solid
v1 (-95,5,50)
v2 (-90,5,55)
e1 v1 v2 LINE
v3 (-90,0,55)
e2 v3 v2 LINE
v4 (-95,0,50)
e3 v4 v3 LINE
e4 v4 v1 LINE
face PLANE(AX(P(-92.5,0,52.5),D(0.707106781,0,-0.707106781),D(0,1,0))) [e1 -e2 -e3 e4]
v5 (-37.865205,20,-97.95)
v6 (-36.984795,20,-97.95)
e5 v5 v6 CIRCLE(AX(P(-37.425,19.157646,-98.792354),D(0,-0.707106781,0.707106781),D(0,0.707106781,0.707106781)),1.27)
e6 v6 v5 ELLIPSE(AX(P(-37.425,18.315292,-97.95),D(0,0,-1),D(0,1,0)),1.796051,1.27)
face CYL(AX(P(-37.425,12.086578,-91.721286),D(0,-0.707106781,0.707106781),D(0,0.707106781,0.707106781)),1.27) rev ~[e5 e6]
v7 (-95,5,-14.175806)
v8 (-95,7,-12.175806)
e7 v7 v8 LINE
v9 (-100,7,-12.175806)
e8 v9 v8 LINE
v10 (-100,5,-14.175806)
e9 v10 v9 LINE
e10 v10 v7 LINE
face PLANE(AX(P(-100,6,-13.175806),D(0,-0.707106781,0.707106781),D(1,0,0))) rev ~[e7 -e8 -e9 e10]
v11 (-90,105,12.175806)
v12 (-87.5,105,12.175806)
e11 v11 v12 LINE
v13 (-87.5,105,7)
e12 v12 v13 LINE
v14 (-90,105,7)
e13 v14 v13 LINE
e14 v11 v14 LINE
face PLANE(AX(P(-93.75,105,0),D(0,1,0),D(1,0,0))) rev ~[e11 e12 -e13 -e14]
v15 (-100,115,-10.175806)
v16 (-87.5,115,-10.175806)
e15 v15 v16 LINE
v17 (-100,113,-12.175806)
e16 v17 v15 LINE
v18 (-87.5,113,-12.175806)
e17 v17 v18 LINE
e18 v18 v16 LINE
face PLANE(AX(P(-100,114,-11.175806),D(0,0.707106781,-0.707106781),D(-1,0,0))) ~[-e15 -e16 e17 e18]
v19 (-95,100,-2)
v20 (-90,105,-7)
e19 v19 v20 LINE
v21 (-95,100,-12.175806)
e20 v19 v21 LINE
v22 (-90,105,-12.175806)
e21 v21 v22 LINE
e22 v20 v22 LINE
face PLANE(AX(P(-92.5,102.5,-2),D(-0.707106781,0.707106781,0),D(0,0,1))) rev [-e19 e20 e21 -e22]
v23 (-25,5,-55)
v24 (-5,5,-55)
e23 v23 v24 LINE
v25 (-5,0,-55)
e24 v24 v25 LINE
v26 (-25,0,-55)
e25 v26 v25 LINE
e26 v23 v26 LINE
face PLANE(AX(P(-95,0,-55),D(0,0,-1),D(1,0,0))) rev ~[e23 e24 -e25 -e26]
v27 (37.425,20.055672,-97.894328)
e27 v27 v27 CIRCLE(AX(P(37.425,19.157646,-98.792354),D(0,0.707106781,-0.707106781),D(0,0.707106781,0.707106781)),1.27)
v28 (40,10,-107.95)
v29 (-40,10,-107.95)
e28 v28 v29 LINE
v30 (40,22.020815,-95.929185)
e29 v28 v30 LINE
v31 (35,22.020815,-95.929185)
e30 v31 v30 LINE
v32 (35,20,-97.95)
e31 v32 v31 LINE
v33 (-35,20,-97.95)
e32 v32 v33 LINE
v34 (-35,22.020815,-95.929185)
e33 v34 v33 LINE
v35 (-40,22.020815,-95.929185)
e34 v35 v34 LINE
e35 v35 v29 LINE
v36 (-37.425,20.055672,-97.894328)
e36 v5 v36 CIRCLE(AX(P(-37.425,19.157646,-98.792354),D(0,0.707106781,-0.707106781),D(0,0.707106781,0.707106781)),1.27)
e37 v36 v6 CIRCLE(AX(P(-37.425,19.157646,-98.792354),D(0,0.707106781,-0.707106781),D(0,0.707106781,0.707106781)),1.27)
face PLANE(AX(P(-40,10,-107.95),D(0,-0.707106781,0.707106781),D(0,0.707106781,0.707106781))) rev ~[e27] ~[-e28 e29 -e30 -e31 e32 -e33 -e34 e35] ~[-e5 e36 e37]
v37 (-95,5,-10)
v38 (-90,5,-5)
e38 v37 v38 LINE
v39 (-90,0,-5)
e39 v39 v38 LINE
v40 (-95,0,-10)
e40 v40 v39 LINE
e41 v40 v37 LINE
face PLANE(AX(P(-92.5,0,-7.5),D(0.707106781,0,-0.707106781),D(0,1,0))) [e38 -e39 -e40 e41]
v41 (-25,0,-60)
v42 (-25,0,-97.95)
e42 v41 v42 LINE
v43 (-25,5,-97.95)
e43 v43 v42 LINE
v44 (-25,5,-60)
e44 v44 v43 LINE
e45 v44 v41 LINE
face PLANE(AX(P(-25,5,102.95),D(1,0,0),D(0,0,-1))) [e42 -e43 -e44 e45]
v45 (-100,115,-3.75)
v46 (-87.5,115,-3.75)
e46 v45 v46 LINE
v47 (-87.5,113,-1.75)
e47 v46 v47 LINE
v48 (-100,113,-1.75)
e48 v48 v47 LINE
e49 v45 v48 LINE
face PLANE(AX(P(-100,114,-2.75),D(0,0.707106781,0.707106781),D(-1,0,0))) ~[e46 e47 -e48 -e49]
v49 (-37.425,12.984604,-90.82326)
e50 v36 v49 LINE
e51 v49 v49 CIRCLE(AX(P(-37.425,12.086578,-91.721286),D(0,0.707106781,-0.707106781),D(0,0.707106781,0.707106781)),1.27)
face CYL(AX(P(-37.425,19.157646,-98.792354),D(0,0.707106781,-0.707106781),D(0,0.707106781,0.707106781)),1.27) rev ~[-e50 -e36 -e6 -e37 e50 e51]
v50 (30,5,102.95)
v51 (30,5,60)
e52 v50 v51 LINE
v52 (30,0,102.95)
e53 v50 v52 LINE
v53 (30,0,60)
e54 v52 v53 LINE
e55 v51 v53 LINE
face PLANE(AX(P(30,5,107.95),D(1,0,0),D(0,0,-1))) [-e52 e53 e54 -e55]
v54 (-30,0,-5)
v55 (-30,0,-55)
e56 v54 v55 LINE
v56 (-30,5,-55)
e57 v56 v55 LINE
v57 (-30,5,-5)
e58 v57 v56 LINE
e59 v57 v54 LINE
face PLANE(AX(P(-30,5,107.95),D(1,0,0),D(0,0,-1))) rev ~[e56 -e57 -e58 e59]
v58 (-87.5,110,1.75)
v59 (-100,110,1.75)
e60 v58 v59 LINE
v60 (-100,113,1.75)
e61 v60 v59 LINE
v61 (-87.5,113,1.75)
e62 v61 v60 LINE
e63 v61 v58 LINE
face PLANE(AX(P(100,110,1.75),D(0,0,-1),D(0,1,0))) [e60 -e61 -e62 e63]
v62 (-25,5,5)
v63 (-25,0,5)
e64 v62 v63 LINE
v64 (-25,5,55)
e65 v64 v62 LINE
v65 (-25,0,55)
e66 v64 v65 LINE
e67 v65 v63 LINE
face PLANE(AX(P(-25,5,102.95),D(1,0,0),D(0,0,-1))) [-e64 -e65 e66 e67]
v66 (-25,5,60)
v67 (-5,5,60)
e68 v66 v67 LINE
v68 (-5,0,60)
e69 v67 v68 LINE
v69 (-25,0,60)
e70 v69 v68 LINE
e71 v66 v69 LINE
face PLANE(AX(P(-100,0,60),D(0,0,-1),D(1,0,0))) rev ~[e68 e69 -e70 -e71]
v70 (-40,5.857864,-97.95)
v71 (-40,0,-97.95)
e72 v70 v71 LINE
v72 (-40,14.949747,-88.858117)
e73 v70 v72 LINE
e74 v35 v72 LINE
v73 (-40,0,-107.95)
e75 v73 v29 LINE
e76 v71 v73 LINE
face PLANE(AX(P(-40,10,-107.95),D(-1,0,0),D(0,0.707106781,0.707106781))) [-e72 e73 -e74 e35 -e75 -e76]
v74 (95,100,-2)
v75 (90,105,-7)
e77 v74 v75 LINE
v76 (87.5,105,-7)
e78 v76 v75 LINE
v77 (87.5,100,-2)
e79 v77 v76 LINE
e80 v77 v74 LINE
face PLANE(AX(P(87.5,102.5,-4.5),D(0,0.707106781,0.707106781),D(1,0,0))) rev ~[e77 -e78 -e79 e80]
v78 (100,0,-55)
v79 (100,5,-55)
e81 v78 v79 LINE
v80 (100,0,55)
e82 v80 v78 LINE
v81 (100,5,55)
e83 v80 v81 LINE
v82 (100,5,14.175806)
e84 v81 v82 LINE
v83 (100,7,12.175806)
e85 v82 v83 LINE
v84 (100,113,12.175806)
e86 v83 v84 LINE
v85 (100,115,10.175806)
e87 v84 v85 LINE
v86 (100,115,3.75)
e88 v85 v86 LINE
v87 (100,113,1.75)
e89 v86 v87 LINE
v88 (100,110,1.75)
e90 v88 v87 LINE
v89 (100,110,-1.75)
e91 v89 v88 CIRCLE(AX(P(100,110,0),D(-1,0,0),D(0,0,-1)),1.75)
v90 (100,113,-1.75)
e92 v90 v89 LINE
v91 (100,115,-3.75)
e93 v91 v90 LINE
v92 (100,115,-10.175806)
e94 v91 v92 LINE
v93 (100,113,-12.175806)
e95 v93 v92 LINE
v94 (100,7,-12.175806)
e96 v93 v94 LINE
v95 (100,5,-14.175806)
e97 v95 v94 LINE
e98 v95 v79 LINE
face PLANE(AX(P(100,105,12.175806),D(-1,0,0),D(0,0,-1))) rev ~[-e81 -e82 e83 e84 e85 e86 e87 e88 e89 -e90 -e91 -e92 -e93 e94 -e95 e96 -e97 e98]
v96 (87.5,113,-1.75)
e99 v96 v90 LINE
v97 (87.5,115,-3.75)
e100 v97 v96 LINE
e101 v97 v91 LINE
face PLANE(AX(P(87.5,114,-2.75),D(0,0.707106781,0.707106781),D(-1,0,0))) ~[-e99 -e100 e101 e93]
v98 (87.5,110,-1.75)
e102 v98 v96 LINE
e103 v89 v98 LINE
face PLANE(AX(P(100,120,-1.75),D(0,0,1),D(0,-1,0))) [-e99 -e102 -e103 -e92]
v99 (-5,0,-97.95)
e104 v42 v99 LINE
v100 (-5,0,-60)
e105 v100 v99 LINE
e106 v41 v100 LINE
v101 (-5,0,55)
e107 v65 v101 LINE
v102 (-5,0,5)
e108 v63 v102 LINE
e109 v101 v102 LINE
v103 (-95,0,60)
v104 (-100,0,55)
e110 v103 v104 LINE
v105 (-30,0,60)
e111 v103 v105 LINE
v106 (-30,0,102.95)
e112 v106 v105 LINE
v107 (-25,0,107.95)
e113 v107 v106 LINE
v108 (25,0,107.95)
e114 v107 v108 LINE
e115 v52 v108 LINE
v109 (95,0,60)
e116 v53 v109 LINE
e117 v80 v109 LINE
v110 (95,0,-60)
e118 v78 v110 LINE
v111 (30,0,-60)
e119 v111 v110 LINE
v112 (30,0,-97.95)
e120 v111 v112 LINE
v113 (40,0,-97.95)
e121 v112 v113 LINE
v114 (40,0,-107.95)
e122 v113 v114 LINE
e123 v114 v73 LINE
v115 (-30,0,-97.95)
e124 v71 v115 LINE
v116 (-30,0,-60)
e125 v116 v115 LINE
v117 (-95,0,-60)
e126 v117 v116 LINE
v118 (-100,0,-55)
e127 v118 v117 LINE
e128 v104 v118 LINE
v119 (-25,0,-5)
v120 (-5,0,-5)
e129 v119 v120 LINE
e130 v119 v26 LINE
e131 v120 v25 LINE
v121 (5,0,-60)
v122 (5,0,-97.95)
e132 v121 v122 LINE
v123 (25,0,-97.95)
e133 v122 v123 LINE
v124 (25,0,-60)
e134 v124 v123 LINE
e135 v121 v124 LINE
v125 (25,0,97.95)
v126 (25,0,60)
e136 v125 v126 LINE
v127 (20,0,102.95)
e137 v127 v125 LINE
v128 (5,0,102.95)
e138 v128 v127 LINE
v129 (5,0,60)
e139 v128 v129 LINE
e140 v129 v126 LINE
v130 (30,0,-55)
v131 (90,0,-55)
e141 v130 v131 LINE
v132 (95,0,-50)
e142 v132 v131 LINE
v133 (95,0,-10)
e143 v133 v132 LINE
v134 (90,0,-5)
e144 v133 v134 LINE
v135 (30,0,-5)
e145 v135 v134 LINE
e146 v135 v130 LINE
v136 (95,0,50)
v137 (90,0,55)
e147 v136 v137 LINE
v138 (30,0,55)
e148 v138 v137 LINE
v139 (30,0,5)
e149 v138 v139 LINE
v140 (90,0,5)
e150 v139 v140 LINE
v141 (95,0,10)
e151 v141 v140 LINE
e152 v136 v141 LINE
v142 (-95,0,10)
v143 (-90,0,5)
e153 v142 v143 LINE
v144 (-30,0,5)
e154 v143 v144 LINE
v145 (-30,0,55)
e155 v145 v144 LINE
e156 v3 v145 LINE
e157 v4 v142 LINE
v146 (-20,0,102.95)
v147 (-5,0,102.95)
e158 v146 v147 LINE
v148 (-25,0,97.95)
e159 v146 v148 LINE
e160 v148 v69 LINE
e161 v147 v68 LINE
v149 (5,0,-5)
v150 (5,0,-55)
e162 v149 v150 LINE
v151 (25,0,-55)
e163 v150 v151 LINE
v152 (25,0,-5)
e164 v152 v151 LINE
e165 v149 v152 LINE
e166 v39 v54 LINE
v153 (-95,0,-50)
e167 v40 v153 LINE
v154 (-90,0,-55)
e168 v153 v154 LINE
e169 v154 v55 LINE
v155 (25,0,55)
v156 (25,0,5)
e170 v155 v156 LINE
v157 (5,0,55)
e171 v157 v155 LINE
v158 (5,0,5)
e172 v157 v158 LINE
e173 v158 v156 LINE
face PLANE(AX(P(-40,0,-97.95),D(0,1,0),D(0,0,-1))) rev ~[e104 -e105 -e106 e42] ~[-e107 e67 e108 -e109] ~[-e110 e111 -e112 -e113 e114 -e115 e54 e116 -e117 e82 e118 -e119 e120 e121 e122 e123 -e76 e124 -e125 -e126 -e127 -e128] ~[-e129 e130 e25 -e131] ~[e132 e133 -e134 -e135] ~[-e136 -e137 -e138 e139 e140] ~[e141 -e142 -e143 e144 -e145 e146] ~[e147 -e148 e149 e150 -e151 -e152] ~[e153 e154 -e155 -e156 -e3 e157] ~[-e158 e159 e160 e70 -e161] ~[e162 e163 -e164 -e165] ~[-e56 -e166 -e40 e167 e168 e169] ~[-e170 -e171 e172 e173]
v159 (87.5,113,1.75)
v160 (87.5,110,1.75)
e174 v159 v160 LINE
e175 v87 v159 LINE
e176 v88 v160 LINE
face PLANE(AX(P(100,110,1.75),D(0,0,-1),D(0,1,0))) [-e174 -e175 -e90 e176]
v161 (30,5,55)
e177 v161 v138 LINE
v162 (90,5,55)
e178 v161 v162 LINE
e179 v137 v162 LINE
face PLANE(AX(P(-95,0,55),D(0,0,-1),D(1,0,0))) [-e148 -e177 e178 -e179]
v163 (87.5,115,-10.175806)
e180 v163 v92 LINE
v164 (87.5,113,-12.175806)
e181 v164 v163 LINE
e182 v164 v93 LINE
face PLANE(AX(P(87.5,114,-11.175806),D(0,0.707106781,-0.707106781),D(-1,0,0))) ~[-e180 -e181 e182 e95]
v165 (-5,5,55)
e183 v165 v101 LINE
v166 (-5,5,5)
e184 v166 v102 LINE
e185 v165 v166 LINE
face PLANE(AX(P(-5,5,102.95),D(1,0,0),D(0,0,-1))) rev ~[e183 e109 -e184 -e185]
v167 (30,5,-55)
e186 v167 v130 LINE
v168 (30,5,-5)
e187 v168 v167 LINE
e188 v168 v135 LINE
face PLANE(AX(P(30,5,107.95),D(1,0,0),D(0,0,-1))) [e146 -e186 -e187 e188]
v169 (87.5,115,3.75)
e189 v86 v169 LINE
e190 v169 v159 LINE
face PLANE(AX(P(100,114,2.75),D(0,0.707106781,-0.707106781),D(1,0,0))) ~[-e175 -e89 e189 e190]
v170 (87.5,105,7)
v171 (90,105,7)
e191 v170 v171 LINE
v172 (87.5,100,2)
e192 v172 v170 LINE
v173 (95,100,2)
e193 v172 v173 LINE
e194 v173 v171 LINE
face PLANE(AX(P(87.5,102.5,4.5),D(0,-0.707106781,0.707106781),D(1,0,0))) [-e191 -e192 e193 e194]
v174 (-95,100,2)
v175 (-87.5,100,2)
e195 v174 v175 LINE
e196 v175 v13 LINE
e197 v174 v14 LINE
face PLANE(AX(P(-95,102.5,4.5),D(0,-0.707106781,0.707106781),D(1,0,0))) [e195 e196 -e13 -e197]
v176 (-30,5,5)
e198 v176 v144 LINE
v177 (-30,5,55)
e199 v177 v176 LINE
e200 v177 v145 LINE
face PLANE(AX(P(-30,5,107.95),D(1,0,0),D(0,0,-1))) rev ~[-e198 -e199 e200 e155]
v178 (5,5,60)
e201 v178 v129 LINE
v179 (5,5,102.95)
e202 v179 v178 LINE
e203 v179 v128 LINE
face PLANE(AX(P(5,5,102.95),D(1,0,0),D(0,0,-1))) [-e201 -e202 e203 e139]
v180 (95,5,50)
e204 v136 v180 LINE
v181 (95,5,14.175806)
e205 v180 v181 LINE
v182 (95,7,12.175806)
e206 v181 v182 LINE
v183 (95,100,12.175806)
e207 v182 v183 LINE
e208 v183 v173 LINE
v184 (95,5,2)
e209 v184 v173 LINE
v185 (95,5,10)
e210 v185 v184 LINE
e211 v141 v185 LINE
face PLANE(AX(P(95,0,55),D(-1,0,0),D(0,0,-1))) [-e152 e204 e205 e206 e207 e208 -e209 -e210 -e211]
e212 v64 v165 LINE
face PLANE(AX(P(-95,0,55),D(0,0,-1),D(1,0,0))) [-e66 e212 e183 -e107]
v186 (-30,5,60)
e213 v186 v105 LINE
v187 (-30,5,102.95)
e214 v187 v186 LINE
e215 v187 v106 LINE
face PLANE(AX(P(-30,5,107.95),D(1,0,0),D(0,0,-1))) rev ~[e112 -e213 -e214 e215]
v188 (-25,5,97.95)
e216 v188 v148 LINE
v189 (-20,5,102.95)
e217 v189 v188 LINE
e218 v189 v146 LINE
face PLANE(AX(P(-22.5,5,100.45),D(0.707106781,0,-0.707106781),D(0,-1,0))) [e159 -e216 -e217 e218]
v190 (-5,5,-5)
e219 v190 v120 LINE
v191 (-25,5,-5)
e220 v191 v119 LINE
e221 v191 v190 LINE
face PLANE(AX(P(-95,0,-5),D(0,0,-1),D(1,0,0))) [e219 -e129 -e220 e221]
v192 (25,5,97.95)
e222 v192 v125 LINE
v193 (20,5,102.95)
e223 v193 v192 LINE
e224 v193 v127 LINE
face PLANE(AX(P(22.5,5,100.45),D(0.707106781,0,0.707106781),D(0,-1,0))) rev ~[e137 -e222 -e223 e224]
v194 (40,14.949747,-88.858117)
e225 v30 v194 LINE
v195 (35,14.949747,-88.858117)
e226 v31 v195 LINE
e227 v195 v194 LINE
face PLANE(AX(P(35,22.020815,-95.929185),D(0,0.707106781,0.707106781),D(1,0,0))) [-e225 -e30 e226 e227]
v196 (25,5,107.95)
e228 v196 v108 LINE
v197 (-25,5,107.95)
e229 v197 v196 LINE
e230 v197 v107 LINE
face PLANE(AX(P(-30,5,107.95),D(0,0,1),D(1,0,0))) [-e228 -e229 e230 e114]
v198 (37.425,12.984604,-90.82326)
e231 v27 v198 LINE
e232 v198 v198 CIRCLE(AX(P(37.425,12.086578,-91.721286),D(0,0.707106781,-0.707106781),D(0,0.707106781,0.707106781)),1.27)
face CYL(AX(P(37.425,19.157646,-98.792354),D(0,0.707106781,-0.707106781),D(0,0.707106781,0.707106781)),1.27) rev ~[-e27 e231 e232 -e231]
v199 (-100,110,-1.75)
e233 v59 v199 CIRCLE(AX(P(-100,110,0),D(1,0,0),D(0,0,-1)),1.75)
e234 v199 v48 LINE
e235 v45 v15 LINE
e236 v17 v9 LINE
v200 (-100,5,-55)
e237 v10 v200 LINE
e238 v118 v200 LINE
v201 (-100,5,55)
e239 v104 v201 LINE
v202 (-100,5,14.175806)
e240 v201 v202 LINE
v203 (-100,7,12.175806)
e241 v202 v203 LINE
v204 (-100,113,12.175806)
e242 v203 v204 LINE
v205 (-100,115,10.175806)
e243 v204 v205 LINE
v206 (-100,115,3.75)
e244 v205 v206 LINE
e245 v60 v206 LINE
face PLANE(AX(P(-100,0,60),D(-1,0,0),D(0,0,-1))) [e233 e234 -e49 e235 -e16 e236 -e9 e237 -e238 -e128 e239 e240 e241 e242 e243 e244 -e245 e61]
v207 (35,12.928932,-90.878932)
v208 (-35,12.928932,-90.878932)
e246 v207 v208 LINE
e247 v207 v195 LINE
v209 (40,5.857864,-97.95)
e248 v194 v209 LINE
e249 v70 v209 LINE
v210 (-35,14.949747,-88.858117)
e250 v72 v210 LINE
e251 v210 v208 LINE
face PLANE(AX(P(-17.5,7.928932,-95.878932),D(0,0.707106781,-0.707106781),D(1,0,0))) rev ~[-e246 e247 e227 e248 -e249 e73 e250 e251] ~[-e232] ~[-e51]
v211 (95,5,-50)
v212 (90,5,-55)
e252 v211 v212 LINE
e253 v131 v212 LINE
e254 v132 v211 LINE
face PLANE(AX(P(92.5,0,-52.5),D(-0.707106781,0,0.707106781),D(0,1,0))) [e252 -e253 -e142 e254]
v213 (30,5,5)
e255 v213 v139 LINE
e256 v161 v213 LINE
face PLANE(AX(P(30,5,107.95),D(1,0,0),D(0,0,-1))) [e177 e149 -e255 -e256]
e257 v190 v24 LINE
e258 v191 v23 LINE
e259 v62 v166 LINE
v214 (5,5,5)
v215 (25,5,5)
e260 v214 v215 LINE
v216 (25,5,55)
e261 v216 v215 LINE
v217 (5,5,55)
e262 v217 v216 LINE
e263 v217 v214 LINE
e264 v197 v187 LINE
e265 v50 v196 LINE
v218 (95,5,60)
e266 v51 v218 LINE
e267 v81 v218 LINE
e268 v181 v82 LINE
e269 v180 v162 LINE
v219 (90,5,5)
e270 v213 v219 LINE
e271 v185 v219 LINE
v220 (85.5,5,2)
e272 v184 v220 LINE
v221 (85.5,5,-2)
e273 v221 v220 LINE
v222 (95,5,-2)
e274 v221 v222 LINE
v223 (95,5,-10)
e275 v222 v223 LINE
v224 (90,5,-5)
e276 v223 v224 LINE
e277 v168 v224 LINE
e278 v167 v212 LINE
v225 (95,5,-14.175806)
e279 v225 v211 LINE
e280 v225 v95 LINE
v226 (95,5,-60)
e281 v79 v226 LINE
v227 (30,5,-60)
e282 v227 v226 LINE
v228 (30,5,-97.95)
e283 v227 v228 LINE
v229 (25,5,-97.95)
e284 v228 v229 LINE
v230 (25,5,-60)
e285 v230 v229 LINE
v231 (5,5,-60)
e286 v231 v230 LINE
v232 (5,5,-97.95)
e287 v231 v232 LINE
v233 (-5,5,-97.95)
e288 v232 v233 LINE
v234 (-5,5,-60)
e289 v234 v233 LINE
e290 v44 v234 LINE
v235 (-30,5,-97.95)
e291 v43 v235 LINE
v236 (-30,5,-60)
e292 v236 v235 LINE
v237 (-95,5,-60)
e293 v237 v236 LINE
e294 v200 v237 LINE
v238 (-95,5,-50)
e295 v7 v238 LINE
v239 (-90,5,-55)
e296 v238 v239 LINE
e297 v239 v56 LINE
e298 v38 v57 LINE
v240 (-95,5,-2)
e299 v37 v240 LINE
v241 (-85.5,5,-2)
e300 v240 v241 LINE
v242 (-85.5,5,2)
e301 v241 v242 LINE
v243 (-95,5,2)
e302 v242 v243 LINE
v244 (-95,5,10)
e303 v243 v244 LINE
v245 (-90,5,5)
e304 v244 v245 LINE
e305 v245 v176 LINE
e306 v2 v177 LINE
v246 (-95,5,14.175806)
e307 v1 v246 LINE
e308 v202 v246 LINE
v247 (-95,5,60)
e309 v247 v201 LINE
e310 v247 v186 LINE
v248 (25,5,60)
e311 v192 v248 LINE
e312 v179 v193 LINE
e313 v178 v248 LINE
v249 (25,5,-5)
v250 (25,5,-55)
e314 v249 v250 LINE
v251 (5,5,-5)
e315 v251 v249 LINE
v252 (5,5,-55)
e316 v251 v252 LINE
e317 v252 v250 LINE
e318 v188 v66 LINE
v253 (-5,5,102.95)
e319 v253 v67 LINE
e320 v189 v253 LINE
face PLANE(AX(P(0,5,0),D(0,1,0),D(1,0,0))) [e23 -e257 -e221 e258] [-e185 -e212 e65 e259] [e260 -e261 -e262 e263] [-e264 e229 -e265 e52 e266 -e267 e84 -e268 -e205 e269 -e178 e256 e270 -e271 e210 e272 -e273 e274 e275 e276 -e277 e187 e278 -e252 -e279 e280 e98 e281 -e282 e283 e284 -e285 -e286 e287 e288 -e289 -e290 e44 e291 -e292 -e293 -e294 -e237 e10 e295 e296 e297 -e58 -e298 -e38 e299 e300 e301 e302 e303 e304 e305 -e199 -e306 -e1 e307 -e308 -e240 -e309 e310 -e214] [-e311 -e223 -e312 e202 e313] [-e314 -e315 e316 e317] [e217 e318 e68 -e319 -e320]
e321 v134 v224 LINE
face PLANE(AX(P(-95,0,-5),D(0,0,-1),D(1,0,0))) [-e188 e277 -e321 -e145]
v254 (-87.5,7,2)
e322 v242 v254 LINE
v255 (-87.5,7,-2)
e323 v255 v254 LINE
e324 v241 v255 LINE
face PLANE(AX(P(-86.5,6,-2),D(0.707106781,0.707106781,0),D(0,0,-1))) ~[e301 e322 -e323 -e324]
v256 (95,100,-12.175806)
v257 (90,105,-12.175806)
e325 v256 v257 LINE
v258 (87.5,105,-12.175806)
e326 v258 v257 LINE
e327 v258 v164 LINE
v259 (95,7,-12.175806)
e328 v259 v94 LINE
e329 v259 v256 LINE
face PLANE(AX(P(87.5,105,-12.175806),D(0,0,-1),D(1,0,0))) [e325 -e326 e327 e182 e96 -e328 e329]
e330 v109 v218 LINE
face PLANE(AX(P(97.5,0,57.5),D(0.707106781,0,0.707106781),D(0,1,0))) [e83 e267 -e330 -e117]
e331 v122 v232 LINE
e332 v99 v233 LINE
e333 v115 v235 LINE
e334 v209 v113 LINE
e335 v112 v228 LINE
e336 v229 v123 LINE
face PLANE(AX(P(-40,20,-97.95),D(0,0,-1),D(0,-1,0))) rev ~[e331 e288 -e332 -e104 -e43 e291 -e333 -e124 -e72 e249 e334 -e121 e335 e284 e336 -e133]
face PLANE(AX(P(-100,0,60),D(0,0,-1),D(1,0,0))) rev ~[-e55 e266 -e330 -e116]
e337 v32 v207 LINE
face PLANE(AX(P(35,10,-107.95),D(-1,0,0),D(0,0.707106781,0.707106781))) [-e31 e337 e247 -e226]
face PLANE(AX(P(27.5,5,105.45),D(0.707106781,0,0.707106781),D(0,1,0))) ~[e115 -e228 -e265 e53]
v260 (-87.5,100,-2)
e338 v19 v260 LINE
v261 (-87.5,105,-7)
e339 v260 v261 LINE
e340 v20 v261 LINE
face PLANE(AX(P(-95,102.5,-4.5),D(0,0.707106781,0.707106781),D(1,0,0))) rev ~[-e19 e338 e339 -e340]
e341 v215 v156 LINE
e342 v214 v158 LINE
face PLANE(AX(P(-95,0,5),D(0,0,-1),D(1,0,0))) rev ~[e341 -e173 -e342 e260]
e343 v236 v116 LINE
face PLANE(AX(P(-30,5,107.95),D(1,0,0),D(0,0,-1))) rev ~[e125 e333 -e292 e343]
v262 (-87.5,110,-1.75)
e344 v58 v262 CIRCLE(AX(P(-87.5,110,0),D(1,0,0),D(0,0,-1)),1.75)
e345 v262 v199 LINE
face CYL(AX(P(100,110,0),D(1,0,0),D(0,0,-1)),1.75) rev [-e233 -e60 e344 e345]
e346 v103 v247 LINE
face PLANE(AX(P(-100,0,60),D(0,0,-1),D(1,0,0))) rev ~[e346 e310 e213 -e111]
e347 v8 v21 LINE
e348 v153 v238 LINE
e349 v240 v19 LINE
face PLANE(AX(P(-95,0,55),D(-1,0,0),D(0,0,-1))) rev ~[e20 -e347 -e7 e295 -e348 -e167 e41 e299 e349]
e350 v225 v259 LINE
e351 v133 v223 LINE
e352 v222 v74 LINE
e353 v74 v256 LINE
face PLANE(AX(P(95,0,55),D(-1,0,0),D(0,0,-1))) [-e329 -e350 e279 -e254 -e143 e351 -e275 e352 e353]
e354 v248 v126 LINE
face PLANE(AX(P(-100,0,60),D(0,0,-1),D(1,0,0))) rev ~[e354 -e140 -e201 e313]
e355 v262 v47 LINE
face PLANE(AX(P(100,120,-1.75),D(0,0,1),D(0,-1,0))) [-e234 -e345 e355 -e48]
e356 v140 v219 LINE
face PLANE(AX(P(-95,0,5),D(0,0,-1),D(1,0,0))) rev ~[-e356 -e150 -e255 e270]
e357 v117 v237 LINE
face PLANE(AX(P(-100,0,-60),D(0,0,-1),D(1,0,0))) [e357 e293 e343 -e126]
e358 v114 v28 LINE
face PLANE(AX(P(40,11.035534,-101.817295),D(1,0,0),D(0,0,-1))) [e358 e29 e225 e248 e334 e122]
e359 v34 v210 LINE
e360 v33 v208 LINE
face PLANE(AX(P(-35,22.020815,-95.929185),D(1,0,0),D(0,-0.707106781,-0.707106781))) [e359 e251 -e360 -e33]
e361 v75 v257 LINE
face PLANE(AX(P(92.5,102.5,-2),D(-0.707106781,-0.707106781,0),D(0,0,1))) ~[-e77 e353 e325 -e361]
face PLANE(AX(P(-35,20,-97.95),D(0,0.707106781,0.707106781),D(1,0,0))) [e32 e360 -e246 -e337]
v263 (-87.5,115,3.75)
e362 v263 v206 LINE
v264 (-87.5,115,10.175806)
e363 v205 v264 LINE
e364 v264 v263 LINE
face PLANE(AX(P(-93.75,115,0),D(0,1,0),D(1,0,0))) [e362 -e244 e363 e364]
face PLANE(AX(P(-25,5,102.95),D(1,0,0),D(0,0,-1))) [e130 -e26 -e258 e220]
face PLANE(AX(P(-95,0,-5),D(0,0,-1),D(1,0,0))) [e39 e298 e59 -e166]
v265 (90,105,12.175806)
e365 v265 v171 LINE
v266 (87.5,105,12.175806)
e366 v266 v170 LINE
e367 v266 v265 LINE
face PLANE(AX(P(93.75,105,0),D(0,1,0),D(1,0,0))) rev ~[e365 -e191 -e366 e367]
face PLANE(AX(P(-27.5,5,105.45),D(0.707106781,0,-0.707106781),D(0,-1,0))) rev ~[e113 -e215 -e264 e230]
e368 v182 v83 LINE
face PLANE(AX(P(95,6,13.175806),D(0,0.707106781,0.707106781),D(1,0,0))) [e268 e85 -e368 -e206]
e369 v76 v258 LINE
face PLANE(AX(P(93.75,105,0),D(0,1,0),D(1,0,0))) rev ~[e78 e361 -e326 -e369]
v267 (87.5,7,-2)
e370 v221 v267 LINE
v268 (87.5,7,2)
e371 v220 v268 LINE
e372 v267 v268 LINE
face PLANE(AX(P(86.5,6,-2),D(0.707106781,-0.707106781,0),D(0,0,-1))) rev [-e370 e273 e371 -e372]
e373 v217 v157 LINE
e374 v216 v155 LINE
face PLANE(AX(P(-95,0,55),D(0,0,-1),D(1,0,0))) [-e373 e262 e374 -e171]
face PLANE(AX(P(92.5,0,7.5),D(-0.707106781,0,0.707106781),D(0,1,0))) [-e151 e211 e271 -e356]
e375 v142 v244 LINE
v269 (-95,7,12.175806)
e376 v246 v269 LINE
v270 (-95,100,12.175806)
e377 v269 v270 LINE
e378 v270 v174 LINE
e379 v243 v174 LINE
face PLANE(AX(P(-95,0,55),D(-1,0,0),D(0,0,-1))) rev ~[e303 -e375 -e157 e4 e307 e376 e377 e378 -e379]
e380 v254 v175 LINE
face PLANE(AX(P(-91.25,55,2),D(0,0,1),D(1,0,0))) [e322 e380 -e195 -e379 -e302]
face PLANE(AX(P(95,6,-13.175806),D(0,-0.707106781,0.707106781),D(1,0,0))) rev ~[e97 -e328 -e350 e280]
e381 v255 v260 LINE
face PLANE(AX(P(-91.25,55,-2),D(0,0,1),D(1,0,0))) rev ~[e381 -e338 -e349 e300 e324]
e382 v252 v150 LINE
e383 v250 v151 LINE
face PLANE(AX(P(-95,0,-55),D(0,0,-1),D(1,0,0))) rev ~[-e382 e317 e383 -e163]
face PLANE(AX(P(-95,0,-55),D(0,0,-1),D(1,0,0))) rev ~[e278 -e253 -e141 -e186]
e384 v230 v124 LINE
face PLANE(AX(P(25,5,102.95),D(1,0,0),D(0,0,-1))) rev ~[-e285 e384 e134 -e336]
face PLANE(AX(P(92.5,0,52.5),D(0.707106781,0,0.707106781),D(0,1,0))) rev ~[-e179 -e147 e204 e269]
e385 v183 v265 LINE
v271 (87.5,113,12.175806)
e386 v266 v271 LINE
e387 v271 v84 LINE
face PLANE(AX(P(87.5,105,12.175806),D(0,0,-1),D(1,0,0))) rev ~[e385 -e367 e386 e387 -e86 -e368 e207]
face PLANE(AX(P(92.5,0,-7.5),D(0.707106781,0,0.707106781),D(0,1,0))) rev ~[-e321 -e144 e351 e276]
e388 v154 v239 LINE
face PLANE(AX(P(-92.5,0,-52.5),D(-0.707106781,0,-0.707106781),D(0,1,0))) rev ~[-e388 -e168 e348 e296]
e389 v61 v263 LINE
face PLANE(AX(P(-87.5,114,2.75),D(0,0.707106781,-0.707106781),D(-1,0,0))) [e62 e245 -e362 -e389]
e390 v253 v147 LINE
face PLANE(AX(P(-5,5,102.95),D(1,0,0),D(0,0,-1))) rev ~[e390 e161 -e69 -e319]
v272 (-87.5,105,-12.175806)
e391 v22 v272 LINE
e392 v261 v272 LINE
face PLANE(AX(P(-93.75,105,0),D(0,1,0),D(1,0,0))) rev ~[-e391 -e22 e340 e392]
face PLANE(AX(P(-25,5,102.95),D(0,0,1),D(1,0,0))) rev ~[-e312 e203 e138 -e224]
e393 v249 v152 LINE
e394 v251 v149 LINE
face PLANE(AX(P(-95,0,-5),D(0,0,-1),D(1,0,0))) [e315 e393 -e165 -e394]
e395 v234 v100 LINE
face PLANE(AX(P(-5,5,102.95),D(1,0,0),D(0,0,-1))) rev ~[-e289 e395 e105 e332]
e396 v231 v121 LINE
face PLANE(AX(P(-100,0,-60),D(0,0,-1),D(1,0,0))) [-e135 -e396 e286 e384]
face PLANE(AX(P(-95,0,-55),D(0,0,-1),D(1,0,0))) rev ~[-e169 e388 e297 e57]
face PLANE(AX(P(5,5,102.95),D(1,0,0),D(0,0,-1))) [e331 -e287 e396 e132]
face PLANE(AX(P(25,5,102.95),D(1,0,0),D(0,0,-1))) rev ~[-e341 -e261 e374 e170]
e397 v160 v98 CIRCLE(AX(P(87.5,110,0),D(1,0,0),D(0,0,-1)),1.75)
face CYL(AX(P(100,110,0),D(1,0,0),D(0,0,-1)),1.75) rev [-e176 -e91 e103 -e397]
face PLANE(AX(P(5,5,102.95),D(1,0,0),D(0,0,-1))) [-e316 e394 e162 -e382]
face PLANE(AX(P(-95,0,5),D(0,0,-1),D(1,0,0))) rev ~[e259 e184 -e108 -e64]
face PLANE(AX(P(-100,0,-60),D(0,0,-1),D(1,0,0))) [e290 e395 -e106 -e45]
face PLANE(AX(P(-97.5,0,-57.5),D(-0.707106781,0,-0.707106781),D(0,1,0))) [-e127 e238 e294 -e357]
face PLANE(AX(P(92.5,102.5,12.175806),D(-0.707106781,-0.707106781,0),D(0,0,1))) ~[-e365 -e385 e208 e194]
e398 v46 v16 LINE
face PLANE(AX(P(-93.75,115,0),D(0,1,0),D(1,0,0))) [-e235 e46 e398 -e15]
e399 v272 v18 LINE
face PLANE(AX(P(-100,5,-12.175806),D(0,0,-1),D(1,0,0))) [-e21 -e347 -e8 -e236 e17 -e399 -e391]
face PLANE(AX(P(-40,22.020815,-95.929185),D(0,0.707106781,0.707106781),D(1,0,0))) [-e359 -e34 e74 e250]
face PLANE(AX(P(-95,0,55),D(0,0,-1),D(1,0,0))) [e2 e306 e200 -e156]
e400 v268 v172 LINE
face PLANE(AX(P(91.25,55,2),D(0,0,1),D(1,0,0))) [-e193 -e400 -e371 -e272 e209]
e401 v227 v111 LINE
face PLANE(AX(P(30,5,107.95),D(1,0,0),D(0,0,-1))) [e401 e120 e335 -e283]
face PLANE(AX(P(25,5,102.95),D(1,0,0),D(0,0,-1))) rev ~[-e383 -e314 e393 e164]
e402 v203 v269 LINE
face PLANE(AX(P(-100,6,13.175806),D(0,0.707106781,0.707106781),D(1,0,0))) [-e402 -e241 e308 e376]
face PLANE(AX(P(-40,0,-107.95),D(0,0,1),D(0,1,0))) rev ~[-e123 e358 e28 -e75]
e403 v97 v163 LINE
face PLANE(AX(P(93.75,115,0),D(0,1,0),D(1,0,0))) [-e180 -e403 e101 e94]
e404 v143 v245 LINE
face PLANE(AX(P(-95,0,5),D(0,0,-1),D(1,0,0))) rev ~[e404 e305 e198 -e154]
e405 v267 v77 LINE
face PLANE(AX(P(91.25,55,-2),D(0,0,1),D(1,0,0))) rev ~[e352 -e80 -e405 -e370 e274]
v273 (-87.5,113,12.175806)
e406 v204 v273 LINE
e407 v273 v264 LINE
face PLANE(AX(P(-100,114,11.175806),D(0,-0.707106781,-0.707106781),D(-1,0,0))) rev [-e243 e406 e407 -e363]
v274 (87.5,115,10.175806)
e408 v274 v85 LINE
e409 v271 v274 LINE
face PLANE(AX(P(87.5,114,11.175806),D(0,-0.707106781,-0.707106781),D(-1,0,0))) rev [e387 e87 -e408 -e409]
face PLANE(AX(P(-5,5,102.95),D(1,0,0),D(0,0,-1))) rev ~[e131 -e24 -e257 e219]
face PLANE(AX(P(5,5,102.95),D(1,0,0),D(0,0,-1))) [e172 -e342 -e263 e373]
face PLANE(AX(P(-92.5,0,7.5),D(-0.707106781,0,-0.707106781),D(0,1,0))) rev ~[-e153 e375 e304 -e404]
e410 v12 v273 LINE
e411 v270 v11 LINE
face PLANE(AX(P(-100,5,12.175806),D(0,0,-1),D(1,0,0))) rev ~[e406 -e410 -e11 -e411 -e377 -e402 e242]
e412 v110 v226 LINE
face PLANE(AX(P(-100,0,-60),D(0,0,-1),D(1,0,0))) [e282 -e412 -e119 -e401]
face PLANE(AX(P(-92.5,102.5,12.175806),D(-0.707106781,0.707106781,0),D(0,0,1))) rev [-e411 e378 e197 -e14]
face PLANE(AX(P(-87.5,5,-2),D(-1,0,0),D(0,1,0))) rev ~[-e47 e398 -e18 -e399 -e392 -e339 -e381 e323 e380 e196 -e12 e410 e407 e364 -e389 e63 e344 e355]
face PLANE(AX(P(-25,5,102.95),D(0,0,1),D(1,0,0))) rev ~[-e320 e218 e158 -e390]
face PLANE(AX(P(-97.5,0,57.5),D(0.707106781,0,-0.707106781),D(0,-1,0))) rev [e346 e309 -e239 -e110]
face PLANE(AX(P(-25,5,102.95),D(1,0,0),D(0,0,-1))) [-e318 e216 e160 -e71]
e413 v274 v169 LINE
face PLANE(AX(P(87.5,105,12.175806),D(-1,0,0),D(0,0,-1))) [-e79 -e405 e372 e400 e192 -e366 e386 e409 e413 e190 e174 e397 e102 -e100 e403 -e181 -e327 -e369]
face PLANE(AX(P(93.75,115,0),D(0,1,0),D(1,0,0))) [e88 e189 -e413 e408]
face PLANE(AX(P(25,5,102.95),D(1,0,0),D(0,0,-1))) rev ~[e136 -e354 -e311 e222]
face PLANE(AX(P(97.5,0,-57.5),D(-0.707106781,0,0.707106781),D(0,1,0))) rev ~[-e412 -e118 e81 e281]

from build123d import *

# Parameters (mm, degrees)
SKETCH1_W                = 200
SKETCH1_H                = 120
SKETCH1_W_2              = 190
SKETCH1_H_2              = 110
BOSS_EXTRUDE1_DEPTH      = 5
SKETCH2_W                = 5
SKETCH2_H                = 24.351612872
BOSS_EXTRUDE2_DEPTH      = 100
SKETCH3_W                = 190
SKETCH3_H                = 10
BOSS_EXTRUDE3_DEPTH      = 5
SKETCH4_W                = 12.5
SKETCH4_H                = 24.351612872
BOSS_EXTRUDE4_DEPTH      = 10
BOSS_EXTRUDE5_DEPTH      = 2
BOSS_EXTRUDE5_DEPTH_BACK = 2
SKETCH5_W                = 7.5
SKETCH5_H                = 100
CUT_EXTRUDE1_DEPTH       = 239.379948821
SKETCH7_W                = 60
SKETCH7_H                = 215.9
SKETCH7_W_2              = 50
SKETCH7_H_2              = 205.9
BOSS_EXTRUDE6_DEPTH      = 5
CHAMFER1_SIZE            = 2
SKETCH8_W                = 10
SKETCH8_H                = 205.9
BOSS_EXTRUDE7_DEPTH      = 5
CHAMFER2_SIZE            = 5
BOSS_EXTRUDE8_DEPTH      = 40
BOSS_EXTRUDE8_DEPTH_BACK = 40
SKETCH9_W                = 10
SKETCH9_H                = 5
SKETCH10_W               = 35
SKETCH10_H               = 14.142135624
SKETCH10_R               = 1.27
BOSS_EXTRUDE9_DEPTH      = 10
SKETCH12_R               = 1.27
CUT_EXTRUDE2_DEPTH       = 199.832576328


with BuildPart() as part:
    # Sketch1 → Boss-Extrude1 (new body)
    with BuildSketch(Plane(origin=(0, 0, 0), x_dir=(1, 0, 0), z_dir=(0, 1, 0))):
        Rectangle(SKETCH1_W, SKETCH1_H)
        Rectangle(SKETCH1_W_2, SKETCH1_H_2, mode=Mode.SUBTRACT)
    extrude(amount=BOSS_EXTRUDE1_DEPTH)

    # Sketch2 → Boss-Extrude2 (add)
    with BuildSketch(Plane(origin=(0, 5, 0), x_dir=(1, 0, 0), z_dir=(0, 1, 0))):
        with Locations((-97.5, 0)):
            Rectangle(SKETCH2_W, SKETCH2_H)
        with Locations((97.5, 0)):
            Rectangle(SKETCH2_W, SKETCH2_H)
    extrude(amount=BOSS_EXTRUDE2_DEPTH)

    # Sketch3 → Boss-Extrude3 (add)
    with BuildSketch(Plane.XZ):
        Rectangle(SKETCH3_W, SKETCH3_H)
    extrude(amount=-BOSS_EXTRUDE3_DEPTH)

    # Sketch4 → Boss-Extrude4 (add)
    with BuildSketch(Plane(origin=(0, 105, 0), x_dir=(1, 0, 0), z_dir=(0, 1, 0))):
        with Locations((93.75, 0)):
            Rectangle(SKETCH4_W, SKETCH4_H)
        with Locations((-93.75, 0)):
            Rectangle(SKETCH4_W, SKETCH4_H)
    extrude(amount=BOSS_EXTRUDE4_DEPTH)

    # Sketch5 → Boss-Extrude5 (add, two sides: drawn at the far end of the back side and taken through both)
    with BuildSketch(Plane.XY.offset(-BOSS_EXTRUDE5_DEPTH_BACK)):
        with Locations((-91.25, 55)):
            Rectangle(SKETCH5_W, SKETCH5_H)
        with Locations((91.25, 55)):
            Rectangle(SKETCH5_W, SKETCH5_H)
    extrude(amount=BOSS_EXTRUDE5_DEPTH + BOSS_EXTRUDE5_DEPTH_BACK)

    # Sketch6 → Cut-Extrude1 (cut, through all)
    with BuildSketch(Plane(origin=(100, 0, 0), x_dir=(0, 0, -1), z_dir=(1, 0, 0))):
        with BuildLine():
            Line((1.75, 120), (1.75, 110))
            ThreePointArc((1.75, 110), (0, 108.25), (-1.75, 110))
            Line((-1.75, 110), (-1.75, 120))
            ThreePointArc((-1.75, 120), (0, 121.75), (1.75, 120))
        make_face()
    extrude(amount=-CUT_EXTRUDE1_DEPTH, mode=Mode.SUBTRACT)

    # Sketch7 → Boss-Extrude6 (add)
    with BuildSketch(Plane(origin=(0, 5, 0), x_dir=(1, 0, 0), z_dir=(0, 1, 0))):
        Rectangle(SKETCH7_W, SKETCH7_H)
        Rectangle(SKETCH7_W_2, SKETCH7_H_2, mode=Mode.SUBTRACT)
    extrude(amount=-BOSS_EXTRUDE6_DEPTH)

    # Chamfer1
    chamfer1_edges = [part.edges().sort_by_distance(p)[0] for p in [
        (-93.75, 115, -1.75),
        (-93.75, 115, 1.75),
        (93.75, 115, 1.75),
        (93.75, 115, -1.75),
        (97.5, 5, 12.175806436),
        (87.5, 5, 0),
        (97.5, 5, -12.175806436),
        (-97.5, 5, -12.175806436),
        (-87.5, 5, 0),
        (-97.5, 5, 12.175806436),
        (-93.75, 115, 12.175806436),
        (-93.75, 115, -12.175806436),
        (93.75, 115, -12.175806436),
        (93.75, 115, 12.175806436),
    ]]
    chamfer(chamfer1_edges, length=CHAMFER1_SIZE)

    # Sketch8 → Boss-Extrude7 (add)
    with BuildSketch(Plane(origin=(0, 5, 0), x_dir=(1, 0, 0), z_dir=(0, 1, 0))):
        Rectangle(SKETCH8_W, SKETCH8_H)
    extrude(amount=-BOSS_EXTRUDE7_DEPTH)

    # Chamfer2
    chamfer2_edges = [part.edges().sort_by_distance(p)[0] for p in [
        (-95, 105, -7.087903218),
        (-91.25, 105, -2),
        (-91.25, 105, 2),
        (95, 105, 7.087903218),
        (91.25, 105, -2),
        (91.25, 105, 2),
        (-95, 2.5, 55),
        (95, 2.5, 55),
        (95, 2.5, -55),
        (-95, 2.5, -55),
        (-30, 2.5, 107.95),
        (30, 2.5, -107.95),
        (-25, 2.5, -102.95),
        (25, 2.5, 102.95),
        (-30, 2.5, -107.95),
        (30, 2.5, 107.95),
        (-25, 2.5, 102.95),
        (25, 2.5, -102.95),
        (-95, 105, 7.087903218),
        (95, 105, -7.087903218),
        (95, 2.5, 5),
        (95, 2.5, -5),
        (-95, 2.5, -5),
        (-95, 2.5, 5),
        (100, 2.5, 60),
        (-100, 2.5, 60),
        (-100, 2.5, -60),
        (100, 2.5, -60),
    ]]
    chamfer(chamfer2_edges, length=CHAMFER2_SIZE)

    # Sketch9 → Boss-Extrude8 (add, two sides: drawn at the far end of the back side and taken through both)
    with BuildSketch(Plane(origin=(0, 0, 0), x_dir=(0, 0, -1), z_dir=(1, 0, 0)).offset(-BOSS_EXTRUDE8_DEPTH_BACK)):
        Polygon((97.95, 5), (107.95, 5), (107.95, 10), (97.95, 20), align=None)
        with Locations((102.95, 2.5)):
            Rectangle(SKETCH9_W, SKETCH9_H)
    extrude(amount=BOSS_EXTRUDE8_DEPTH + BOSS_EXTRUDE8_DEPTH_BACK)

    # Sketch10 → Boss-Extrude9 (add)
    # profile 1 of 4: a face of its own
    with BuildSketch(Plane(origin=(0, 58.975, -58.975), x_dir=(1, 0, 0), z_dir=(0, 0.7071067811865489, -0.7071067811865461))):
        with Locations((-17.5, 62.190041405)):
            Rectangle(SKETCH10_W, SKETCH10_H)
    # profile 2 of 4: a face of its own
    with BuildSketch(Plane(origin=(0, 58.975, -58.975), x_dir=(1, 0, 0), z_dir=(0, 0.7071067811865489, -0.7071067811865461))):
        with Locations((17.5, 62.190041405)):
            Rectangle(SKETCH10_W, SKETCH10_H)
    # profile 3 of 4: a face of its own
    with BuildSketch(Plane(origin=(0, 58.975, -58.975), x_dir=(1, 0, 0), z_dir=(0, 0.7071067811865489, -0.7071067811865461))):
        Polygon((35, 69.261109217), (35, 55.118973593), (35, 52.261109217), (40, 52.261109217), (40, 69.261109217), align=None)
        with Locations(Location((37.425, 56.310241705, 0), (0, 0, 270))):
            Circle(SKETCH10_R, mode=Mode.SUBTRACT)
    # profile 4 of 4: a face of its own
    with BuildSketch(Plane(origin=(0, 58.975, -58.975), x_dir=(1, 0, 0), z_dir=(0, 0.7071067811865489, -0.7071067811865461))):
        Polygon((-35, 52.261109217), (-35, 55.118973593), (-35, 69.261109217), (-40, 69.261109217), (-40, 52.261109217), align=None)
        with Locations(Location((-37.425, 56.310241705, 0), (0, 0, 270))):
            Circle(SKETCH10_R, mode=Mode.SUBTRACT)
    extrude(amount=-BOSS_EXTRUDE9_DEPTH)

    # Sketch12 → Cut-Extrude2 (cut, through all)
    with BuildSketch(Plane(origin=(0, 51.903932188, -51.903932188), x_dir=(1, 0, 0), z_dir=(0, -0.7071067811865488, 0.7071067811865464))):
        with Locations(Location((37.425, -56.310241705, 0), (0, 0, 90.000000005))):
            Circle(SKETCH12_R)
        with Locations(Location((-37.425, -56.310241705, 0), (0, 0, 89.999999995))):
            Circle(SKETCH12_R)
    extrude(amount=-CUT_EXTRUDE2_DEPTH, mode=Mode.SUBTRACT)


solid = part.part
